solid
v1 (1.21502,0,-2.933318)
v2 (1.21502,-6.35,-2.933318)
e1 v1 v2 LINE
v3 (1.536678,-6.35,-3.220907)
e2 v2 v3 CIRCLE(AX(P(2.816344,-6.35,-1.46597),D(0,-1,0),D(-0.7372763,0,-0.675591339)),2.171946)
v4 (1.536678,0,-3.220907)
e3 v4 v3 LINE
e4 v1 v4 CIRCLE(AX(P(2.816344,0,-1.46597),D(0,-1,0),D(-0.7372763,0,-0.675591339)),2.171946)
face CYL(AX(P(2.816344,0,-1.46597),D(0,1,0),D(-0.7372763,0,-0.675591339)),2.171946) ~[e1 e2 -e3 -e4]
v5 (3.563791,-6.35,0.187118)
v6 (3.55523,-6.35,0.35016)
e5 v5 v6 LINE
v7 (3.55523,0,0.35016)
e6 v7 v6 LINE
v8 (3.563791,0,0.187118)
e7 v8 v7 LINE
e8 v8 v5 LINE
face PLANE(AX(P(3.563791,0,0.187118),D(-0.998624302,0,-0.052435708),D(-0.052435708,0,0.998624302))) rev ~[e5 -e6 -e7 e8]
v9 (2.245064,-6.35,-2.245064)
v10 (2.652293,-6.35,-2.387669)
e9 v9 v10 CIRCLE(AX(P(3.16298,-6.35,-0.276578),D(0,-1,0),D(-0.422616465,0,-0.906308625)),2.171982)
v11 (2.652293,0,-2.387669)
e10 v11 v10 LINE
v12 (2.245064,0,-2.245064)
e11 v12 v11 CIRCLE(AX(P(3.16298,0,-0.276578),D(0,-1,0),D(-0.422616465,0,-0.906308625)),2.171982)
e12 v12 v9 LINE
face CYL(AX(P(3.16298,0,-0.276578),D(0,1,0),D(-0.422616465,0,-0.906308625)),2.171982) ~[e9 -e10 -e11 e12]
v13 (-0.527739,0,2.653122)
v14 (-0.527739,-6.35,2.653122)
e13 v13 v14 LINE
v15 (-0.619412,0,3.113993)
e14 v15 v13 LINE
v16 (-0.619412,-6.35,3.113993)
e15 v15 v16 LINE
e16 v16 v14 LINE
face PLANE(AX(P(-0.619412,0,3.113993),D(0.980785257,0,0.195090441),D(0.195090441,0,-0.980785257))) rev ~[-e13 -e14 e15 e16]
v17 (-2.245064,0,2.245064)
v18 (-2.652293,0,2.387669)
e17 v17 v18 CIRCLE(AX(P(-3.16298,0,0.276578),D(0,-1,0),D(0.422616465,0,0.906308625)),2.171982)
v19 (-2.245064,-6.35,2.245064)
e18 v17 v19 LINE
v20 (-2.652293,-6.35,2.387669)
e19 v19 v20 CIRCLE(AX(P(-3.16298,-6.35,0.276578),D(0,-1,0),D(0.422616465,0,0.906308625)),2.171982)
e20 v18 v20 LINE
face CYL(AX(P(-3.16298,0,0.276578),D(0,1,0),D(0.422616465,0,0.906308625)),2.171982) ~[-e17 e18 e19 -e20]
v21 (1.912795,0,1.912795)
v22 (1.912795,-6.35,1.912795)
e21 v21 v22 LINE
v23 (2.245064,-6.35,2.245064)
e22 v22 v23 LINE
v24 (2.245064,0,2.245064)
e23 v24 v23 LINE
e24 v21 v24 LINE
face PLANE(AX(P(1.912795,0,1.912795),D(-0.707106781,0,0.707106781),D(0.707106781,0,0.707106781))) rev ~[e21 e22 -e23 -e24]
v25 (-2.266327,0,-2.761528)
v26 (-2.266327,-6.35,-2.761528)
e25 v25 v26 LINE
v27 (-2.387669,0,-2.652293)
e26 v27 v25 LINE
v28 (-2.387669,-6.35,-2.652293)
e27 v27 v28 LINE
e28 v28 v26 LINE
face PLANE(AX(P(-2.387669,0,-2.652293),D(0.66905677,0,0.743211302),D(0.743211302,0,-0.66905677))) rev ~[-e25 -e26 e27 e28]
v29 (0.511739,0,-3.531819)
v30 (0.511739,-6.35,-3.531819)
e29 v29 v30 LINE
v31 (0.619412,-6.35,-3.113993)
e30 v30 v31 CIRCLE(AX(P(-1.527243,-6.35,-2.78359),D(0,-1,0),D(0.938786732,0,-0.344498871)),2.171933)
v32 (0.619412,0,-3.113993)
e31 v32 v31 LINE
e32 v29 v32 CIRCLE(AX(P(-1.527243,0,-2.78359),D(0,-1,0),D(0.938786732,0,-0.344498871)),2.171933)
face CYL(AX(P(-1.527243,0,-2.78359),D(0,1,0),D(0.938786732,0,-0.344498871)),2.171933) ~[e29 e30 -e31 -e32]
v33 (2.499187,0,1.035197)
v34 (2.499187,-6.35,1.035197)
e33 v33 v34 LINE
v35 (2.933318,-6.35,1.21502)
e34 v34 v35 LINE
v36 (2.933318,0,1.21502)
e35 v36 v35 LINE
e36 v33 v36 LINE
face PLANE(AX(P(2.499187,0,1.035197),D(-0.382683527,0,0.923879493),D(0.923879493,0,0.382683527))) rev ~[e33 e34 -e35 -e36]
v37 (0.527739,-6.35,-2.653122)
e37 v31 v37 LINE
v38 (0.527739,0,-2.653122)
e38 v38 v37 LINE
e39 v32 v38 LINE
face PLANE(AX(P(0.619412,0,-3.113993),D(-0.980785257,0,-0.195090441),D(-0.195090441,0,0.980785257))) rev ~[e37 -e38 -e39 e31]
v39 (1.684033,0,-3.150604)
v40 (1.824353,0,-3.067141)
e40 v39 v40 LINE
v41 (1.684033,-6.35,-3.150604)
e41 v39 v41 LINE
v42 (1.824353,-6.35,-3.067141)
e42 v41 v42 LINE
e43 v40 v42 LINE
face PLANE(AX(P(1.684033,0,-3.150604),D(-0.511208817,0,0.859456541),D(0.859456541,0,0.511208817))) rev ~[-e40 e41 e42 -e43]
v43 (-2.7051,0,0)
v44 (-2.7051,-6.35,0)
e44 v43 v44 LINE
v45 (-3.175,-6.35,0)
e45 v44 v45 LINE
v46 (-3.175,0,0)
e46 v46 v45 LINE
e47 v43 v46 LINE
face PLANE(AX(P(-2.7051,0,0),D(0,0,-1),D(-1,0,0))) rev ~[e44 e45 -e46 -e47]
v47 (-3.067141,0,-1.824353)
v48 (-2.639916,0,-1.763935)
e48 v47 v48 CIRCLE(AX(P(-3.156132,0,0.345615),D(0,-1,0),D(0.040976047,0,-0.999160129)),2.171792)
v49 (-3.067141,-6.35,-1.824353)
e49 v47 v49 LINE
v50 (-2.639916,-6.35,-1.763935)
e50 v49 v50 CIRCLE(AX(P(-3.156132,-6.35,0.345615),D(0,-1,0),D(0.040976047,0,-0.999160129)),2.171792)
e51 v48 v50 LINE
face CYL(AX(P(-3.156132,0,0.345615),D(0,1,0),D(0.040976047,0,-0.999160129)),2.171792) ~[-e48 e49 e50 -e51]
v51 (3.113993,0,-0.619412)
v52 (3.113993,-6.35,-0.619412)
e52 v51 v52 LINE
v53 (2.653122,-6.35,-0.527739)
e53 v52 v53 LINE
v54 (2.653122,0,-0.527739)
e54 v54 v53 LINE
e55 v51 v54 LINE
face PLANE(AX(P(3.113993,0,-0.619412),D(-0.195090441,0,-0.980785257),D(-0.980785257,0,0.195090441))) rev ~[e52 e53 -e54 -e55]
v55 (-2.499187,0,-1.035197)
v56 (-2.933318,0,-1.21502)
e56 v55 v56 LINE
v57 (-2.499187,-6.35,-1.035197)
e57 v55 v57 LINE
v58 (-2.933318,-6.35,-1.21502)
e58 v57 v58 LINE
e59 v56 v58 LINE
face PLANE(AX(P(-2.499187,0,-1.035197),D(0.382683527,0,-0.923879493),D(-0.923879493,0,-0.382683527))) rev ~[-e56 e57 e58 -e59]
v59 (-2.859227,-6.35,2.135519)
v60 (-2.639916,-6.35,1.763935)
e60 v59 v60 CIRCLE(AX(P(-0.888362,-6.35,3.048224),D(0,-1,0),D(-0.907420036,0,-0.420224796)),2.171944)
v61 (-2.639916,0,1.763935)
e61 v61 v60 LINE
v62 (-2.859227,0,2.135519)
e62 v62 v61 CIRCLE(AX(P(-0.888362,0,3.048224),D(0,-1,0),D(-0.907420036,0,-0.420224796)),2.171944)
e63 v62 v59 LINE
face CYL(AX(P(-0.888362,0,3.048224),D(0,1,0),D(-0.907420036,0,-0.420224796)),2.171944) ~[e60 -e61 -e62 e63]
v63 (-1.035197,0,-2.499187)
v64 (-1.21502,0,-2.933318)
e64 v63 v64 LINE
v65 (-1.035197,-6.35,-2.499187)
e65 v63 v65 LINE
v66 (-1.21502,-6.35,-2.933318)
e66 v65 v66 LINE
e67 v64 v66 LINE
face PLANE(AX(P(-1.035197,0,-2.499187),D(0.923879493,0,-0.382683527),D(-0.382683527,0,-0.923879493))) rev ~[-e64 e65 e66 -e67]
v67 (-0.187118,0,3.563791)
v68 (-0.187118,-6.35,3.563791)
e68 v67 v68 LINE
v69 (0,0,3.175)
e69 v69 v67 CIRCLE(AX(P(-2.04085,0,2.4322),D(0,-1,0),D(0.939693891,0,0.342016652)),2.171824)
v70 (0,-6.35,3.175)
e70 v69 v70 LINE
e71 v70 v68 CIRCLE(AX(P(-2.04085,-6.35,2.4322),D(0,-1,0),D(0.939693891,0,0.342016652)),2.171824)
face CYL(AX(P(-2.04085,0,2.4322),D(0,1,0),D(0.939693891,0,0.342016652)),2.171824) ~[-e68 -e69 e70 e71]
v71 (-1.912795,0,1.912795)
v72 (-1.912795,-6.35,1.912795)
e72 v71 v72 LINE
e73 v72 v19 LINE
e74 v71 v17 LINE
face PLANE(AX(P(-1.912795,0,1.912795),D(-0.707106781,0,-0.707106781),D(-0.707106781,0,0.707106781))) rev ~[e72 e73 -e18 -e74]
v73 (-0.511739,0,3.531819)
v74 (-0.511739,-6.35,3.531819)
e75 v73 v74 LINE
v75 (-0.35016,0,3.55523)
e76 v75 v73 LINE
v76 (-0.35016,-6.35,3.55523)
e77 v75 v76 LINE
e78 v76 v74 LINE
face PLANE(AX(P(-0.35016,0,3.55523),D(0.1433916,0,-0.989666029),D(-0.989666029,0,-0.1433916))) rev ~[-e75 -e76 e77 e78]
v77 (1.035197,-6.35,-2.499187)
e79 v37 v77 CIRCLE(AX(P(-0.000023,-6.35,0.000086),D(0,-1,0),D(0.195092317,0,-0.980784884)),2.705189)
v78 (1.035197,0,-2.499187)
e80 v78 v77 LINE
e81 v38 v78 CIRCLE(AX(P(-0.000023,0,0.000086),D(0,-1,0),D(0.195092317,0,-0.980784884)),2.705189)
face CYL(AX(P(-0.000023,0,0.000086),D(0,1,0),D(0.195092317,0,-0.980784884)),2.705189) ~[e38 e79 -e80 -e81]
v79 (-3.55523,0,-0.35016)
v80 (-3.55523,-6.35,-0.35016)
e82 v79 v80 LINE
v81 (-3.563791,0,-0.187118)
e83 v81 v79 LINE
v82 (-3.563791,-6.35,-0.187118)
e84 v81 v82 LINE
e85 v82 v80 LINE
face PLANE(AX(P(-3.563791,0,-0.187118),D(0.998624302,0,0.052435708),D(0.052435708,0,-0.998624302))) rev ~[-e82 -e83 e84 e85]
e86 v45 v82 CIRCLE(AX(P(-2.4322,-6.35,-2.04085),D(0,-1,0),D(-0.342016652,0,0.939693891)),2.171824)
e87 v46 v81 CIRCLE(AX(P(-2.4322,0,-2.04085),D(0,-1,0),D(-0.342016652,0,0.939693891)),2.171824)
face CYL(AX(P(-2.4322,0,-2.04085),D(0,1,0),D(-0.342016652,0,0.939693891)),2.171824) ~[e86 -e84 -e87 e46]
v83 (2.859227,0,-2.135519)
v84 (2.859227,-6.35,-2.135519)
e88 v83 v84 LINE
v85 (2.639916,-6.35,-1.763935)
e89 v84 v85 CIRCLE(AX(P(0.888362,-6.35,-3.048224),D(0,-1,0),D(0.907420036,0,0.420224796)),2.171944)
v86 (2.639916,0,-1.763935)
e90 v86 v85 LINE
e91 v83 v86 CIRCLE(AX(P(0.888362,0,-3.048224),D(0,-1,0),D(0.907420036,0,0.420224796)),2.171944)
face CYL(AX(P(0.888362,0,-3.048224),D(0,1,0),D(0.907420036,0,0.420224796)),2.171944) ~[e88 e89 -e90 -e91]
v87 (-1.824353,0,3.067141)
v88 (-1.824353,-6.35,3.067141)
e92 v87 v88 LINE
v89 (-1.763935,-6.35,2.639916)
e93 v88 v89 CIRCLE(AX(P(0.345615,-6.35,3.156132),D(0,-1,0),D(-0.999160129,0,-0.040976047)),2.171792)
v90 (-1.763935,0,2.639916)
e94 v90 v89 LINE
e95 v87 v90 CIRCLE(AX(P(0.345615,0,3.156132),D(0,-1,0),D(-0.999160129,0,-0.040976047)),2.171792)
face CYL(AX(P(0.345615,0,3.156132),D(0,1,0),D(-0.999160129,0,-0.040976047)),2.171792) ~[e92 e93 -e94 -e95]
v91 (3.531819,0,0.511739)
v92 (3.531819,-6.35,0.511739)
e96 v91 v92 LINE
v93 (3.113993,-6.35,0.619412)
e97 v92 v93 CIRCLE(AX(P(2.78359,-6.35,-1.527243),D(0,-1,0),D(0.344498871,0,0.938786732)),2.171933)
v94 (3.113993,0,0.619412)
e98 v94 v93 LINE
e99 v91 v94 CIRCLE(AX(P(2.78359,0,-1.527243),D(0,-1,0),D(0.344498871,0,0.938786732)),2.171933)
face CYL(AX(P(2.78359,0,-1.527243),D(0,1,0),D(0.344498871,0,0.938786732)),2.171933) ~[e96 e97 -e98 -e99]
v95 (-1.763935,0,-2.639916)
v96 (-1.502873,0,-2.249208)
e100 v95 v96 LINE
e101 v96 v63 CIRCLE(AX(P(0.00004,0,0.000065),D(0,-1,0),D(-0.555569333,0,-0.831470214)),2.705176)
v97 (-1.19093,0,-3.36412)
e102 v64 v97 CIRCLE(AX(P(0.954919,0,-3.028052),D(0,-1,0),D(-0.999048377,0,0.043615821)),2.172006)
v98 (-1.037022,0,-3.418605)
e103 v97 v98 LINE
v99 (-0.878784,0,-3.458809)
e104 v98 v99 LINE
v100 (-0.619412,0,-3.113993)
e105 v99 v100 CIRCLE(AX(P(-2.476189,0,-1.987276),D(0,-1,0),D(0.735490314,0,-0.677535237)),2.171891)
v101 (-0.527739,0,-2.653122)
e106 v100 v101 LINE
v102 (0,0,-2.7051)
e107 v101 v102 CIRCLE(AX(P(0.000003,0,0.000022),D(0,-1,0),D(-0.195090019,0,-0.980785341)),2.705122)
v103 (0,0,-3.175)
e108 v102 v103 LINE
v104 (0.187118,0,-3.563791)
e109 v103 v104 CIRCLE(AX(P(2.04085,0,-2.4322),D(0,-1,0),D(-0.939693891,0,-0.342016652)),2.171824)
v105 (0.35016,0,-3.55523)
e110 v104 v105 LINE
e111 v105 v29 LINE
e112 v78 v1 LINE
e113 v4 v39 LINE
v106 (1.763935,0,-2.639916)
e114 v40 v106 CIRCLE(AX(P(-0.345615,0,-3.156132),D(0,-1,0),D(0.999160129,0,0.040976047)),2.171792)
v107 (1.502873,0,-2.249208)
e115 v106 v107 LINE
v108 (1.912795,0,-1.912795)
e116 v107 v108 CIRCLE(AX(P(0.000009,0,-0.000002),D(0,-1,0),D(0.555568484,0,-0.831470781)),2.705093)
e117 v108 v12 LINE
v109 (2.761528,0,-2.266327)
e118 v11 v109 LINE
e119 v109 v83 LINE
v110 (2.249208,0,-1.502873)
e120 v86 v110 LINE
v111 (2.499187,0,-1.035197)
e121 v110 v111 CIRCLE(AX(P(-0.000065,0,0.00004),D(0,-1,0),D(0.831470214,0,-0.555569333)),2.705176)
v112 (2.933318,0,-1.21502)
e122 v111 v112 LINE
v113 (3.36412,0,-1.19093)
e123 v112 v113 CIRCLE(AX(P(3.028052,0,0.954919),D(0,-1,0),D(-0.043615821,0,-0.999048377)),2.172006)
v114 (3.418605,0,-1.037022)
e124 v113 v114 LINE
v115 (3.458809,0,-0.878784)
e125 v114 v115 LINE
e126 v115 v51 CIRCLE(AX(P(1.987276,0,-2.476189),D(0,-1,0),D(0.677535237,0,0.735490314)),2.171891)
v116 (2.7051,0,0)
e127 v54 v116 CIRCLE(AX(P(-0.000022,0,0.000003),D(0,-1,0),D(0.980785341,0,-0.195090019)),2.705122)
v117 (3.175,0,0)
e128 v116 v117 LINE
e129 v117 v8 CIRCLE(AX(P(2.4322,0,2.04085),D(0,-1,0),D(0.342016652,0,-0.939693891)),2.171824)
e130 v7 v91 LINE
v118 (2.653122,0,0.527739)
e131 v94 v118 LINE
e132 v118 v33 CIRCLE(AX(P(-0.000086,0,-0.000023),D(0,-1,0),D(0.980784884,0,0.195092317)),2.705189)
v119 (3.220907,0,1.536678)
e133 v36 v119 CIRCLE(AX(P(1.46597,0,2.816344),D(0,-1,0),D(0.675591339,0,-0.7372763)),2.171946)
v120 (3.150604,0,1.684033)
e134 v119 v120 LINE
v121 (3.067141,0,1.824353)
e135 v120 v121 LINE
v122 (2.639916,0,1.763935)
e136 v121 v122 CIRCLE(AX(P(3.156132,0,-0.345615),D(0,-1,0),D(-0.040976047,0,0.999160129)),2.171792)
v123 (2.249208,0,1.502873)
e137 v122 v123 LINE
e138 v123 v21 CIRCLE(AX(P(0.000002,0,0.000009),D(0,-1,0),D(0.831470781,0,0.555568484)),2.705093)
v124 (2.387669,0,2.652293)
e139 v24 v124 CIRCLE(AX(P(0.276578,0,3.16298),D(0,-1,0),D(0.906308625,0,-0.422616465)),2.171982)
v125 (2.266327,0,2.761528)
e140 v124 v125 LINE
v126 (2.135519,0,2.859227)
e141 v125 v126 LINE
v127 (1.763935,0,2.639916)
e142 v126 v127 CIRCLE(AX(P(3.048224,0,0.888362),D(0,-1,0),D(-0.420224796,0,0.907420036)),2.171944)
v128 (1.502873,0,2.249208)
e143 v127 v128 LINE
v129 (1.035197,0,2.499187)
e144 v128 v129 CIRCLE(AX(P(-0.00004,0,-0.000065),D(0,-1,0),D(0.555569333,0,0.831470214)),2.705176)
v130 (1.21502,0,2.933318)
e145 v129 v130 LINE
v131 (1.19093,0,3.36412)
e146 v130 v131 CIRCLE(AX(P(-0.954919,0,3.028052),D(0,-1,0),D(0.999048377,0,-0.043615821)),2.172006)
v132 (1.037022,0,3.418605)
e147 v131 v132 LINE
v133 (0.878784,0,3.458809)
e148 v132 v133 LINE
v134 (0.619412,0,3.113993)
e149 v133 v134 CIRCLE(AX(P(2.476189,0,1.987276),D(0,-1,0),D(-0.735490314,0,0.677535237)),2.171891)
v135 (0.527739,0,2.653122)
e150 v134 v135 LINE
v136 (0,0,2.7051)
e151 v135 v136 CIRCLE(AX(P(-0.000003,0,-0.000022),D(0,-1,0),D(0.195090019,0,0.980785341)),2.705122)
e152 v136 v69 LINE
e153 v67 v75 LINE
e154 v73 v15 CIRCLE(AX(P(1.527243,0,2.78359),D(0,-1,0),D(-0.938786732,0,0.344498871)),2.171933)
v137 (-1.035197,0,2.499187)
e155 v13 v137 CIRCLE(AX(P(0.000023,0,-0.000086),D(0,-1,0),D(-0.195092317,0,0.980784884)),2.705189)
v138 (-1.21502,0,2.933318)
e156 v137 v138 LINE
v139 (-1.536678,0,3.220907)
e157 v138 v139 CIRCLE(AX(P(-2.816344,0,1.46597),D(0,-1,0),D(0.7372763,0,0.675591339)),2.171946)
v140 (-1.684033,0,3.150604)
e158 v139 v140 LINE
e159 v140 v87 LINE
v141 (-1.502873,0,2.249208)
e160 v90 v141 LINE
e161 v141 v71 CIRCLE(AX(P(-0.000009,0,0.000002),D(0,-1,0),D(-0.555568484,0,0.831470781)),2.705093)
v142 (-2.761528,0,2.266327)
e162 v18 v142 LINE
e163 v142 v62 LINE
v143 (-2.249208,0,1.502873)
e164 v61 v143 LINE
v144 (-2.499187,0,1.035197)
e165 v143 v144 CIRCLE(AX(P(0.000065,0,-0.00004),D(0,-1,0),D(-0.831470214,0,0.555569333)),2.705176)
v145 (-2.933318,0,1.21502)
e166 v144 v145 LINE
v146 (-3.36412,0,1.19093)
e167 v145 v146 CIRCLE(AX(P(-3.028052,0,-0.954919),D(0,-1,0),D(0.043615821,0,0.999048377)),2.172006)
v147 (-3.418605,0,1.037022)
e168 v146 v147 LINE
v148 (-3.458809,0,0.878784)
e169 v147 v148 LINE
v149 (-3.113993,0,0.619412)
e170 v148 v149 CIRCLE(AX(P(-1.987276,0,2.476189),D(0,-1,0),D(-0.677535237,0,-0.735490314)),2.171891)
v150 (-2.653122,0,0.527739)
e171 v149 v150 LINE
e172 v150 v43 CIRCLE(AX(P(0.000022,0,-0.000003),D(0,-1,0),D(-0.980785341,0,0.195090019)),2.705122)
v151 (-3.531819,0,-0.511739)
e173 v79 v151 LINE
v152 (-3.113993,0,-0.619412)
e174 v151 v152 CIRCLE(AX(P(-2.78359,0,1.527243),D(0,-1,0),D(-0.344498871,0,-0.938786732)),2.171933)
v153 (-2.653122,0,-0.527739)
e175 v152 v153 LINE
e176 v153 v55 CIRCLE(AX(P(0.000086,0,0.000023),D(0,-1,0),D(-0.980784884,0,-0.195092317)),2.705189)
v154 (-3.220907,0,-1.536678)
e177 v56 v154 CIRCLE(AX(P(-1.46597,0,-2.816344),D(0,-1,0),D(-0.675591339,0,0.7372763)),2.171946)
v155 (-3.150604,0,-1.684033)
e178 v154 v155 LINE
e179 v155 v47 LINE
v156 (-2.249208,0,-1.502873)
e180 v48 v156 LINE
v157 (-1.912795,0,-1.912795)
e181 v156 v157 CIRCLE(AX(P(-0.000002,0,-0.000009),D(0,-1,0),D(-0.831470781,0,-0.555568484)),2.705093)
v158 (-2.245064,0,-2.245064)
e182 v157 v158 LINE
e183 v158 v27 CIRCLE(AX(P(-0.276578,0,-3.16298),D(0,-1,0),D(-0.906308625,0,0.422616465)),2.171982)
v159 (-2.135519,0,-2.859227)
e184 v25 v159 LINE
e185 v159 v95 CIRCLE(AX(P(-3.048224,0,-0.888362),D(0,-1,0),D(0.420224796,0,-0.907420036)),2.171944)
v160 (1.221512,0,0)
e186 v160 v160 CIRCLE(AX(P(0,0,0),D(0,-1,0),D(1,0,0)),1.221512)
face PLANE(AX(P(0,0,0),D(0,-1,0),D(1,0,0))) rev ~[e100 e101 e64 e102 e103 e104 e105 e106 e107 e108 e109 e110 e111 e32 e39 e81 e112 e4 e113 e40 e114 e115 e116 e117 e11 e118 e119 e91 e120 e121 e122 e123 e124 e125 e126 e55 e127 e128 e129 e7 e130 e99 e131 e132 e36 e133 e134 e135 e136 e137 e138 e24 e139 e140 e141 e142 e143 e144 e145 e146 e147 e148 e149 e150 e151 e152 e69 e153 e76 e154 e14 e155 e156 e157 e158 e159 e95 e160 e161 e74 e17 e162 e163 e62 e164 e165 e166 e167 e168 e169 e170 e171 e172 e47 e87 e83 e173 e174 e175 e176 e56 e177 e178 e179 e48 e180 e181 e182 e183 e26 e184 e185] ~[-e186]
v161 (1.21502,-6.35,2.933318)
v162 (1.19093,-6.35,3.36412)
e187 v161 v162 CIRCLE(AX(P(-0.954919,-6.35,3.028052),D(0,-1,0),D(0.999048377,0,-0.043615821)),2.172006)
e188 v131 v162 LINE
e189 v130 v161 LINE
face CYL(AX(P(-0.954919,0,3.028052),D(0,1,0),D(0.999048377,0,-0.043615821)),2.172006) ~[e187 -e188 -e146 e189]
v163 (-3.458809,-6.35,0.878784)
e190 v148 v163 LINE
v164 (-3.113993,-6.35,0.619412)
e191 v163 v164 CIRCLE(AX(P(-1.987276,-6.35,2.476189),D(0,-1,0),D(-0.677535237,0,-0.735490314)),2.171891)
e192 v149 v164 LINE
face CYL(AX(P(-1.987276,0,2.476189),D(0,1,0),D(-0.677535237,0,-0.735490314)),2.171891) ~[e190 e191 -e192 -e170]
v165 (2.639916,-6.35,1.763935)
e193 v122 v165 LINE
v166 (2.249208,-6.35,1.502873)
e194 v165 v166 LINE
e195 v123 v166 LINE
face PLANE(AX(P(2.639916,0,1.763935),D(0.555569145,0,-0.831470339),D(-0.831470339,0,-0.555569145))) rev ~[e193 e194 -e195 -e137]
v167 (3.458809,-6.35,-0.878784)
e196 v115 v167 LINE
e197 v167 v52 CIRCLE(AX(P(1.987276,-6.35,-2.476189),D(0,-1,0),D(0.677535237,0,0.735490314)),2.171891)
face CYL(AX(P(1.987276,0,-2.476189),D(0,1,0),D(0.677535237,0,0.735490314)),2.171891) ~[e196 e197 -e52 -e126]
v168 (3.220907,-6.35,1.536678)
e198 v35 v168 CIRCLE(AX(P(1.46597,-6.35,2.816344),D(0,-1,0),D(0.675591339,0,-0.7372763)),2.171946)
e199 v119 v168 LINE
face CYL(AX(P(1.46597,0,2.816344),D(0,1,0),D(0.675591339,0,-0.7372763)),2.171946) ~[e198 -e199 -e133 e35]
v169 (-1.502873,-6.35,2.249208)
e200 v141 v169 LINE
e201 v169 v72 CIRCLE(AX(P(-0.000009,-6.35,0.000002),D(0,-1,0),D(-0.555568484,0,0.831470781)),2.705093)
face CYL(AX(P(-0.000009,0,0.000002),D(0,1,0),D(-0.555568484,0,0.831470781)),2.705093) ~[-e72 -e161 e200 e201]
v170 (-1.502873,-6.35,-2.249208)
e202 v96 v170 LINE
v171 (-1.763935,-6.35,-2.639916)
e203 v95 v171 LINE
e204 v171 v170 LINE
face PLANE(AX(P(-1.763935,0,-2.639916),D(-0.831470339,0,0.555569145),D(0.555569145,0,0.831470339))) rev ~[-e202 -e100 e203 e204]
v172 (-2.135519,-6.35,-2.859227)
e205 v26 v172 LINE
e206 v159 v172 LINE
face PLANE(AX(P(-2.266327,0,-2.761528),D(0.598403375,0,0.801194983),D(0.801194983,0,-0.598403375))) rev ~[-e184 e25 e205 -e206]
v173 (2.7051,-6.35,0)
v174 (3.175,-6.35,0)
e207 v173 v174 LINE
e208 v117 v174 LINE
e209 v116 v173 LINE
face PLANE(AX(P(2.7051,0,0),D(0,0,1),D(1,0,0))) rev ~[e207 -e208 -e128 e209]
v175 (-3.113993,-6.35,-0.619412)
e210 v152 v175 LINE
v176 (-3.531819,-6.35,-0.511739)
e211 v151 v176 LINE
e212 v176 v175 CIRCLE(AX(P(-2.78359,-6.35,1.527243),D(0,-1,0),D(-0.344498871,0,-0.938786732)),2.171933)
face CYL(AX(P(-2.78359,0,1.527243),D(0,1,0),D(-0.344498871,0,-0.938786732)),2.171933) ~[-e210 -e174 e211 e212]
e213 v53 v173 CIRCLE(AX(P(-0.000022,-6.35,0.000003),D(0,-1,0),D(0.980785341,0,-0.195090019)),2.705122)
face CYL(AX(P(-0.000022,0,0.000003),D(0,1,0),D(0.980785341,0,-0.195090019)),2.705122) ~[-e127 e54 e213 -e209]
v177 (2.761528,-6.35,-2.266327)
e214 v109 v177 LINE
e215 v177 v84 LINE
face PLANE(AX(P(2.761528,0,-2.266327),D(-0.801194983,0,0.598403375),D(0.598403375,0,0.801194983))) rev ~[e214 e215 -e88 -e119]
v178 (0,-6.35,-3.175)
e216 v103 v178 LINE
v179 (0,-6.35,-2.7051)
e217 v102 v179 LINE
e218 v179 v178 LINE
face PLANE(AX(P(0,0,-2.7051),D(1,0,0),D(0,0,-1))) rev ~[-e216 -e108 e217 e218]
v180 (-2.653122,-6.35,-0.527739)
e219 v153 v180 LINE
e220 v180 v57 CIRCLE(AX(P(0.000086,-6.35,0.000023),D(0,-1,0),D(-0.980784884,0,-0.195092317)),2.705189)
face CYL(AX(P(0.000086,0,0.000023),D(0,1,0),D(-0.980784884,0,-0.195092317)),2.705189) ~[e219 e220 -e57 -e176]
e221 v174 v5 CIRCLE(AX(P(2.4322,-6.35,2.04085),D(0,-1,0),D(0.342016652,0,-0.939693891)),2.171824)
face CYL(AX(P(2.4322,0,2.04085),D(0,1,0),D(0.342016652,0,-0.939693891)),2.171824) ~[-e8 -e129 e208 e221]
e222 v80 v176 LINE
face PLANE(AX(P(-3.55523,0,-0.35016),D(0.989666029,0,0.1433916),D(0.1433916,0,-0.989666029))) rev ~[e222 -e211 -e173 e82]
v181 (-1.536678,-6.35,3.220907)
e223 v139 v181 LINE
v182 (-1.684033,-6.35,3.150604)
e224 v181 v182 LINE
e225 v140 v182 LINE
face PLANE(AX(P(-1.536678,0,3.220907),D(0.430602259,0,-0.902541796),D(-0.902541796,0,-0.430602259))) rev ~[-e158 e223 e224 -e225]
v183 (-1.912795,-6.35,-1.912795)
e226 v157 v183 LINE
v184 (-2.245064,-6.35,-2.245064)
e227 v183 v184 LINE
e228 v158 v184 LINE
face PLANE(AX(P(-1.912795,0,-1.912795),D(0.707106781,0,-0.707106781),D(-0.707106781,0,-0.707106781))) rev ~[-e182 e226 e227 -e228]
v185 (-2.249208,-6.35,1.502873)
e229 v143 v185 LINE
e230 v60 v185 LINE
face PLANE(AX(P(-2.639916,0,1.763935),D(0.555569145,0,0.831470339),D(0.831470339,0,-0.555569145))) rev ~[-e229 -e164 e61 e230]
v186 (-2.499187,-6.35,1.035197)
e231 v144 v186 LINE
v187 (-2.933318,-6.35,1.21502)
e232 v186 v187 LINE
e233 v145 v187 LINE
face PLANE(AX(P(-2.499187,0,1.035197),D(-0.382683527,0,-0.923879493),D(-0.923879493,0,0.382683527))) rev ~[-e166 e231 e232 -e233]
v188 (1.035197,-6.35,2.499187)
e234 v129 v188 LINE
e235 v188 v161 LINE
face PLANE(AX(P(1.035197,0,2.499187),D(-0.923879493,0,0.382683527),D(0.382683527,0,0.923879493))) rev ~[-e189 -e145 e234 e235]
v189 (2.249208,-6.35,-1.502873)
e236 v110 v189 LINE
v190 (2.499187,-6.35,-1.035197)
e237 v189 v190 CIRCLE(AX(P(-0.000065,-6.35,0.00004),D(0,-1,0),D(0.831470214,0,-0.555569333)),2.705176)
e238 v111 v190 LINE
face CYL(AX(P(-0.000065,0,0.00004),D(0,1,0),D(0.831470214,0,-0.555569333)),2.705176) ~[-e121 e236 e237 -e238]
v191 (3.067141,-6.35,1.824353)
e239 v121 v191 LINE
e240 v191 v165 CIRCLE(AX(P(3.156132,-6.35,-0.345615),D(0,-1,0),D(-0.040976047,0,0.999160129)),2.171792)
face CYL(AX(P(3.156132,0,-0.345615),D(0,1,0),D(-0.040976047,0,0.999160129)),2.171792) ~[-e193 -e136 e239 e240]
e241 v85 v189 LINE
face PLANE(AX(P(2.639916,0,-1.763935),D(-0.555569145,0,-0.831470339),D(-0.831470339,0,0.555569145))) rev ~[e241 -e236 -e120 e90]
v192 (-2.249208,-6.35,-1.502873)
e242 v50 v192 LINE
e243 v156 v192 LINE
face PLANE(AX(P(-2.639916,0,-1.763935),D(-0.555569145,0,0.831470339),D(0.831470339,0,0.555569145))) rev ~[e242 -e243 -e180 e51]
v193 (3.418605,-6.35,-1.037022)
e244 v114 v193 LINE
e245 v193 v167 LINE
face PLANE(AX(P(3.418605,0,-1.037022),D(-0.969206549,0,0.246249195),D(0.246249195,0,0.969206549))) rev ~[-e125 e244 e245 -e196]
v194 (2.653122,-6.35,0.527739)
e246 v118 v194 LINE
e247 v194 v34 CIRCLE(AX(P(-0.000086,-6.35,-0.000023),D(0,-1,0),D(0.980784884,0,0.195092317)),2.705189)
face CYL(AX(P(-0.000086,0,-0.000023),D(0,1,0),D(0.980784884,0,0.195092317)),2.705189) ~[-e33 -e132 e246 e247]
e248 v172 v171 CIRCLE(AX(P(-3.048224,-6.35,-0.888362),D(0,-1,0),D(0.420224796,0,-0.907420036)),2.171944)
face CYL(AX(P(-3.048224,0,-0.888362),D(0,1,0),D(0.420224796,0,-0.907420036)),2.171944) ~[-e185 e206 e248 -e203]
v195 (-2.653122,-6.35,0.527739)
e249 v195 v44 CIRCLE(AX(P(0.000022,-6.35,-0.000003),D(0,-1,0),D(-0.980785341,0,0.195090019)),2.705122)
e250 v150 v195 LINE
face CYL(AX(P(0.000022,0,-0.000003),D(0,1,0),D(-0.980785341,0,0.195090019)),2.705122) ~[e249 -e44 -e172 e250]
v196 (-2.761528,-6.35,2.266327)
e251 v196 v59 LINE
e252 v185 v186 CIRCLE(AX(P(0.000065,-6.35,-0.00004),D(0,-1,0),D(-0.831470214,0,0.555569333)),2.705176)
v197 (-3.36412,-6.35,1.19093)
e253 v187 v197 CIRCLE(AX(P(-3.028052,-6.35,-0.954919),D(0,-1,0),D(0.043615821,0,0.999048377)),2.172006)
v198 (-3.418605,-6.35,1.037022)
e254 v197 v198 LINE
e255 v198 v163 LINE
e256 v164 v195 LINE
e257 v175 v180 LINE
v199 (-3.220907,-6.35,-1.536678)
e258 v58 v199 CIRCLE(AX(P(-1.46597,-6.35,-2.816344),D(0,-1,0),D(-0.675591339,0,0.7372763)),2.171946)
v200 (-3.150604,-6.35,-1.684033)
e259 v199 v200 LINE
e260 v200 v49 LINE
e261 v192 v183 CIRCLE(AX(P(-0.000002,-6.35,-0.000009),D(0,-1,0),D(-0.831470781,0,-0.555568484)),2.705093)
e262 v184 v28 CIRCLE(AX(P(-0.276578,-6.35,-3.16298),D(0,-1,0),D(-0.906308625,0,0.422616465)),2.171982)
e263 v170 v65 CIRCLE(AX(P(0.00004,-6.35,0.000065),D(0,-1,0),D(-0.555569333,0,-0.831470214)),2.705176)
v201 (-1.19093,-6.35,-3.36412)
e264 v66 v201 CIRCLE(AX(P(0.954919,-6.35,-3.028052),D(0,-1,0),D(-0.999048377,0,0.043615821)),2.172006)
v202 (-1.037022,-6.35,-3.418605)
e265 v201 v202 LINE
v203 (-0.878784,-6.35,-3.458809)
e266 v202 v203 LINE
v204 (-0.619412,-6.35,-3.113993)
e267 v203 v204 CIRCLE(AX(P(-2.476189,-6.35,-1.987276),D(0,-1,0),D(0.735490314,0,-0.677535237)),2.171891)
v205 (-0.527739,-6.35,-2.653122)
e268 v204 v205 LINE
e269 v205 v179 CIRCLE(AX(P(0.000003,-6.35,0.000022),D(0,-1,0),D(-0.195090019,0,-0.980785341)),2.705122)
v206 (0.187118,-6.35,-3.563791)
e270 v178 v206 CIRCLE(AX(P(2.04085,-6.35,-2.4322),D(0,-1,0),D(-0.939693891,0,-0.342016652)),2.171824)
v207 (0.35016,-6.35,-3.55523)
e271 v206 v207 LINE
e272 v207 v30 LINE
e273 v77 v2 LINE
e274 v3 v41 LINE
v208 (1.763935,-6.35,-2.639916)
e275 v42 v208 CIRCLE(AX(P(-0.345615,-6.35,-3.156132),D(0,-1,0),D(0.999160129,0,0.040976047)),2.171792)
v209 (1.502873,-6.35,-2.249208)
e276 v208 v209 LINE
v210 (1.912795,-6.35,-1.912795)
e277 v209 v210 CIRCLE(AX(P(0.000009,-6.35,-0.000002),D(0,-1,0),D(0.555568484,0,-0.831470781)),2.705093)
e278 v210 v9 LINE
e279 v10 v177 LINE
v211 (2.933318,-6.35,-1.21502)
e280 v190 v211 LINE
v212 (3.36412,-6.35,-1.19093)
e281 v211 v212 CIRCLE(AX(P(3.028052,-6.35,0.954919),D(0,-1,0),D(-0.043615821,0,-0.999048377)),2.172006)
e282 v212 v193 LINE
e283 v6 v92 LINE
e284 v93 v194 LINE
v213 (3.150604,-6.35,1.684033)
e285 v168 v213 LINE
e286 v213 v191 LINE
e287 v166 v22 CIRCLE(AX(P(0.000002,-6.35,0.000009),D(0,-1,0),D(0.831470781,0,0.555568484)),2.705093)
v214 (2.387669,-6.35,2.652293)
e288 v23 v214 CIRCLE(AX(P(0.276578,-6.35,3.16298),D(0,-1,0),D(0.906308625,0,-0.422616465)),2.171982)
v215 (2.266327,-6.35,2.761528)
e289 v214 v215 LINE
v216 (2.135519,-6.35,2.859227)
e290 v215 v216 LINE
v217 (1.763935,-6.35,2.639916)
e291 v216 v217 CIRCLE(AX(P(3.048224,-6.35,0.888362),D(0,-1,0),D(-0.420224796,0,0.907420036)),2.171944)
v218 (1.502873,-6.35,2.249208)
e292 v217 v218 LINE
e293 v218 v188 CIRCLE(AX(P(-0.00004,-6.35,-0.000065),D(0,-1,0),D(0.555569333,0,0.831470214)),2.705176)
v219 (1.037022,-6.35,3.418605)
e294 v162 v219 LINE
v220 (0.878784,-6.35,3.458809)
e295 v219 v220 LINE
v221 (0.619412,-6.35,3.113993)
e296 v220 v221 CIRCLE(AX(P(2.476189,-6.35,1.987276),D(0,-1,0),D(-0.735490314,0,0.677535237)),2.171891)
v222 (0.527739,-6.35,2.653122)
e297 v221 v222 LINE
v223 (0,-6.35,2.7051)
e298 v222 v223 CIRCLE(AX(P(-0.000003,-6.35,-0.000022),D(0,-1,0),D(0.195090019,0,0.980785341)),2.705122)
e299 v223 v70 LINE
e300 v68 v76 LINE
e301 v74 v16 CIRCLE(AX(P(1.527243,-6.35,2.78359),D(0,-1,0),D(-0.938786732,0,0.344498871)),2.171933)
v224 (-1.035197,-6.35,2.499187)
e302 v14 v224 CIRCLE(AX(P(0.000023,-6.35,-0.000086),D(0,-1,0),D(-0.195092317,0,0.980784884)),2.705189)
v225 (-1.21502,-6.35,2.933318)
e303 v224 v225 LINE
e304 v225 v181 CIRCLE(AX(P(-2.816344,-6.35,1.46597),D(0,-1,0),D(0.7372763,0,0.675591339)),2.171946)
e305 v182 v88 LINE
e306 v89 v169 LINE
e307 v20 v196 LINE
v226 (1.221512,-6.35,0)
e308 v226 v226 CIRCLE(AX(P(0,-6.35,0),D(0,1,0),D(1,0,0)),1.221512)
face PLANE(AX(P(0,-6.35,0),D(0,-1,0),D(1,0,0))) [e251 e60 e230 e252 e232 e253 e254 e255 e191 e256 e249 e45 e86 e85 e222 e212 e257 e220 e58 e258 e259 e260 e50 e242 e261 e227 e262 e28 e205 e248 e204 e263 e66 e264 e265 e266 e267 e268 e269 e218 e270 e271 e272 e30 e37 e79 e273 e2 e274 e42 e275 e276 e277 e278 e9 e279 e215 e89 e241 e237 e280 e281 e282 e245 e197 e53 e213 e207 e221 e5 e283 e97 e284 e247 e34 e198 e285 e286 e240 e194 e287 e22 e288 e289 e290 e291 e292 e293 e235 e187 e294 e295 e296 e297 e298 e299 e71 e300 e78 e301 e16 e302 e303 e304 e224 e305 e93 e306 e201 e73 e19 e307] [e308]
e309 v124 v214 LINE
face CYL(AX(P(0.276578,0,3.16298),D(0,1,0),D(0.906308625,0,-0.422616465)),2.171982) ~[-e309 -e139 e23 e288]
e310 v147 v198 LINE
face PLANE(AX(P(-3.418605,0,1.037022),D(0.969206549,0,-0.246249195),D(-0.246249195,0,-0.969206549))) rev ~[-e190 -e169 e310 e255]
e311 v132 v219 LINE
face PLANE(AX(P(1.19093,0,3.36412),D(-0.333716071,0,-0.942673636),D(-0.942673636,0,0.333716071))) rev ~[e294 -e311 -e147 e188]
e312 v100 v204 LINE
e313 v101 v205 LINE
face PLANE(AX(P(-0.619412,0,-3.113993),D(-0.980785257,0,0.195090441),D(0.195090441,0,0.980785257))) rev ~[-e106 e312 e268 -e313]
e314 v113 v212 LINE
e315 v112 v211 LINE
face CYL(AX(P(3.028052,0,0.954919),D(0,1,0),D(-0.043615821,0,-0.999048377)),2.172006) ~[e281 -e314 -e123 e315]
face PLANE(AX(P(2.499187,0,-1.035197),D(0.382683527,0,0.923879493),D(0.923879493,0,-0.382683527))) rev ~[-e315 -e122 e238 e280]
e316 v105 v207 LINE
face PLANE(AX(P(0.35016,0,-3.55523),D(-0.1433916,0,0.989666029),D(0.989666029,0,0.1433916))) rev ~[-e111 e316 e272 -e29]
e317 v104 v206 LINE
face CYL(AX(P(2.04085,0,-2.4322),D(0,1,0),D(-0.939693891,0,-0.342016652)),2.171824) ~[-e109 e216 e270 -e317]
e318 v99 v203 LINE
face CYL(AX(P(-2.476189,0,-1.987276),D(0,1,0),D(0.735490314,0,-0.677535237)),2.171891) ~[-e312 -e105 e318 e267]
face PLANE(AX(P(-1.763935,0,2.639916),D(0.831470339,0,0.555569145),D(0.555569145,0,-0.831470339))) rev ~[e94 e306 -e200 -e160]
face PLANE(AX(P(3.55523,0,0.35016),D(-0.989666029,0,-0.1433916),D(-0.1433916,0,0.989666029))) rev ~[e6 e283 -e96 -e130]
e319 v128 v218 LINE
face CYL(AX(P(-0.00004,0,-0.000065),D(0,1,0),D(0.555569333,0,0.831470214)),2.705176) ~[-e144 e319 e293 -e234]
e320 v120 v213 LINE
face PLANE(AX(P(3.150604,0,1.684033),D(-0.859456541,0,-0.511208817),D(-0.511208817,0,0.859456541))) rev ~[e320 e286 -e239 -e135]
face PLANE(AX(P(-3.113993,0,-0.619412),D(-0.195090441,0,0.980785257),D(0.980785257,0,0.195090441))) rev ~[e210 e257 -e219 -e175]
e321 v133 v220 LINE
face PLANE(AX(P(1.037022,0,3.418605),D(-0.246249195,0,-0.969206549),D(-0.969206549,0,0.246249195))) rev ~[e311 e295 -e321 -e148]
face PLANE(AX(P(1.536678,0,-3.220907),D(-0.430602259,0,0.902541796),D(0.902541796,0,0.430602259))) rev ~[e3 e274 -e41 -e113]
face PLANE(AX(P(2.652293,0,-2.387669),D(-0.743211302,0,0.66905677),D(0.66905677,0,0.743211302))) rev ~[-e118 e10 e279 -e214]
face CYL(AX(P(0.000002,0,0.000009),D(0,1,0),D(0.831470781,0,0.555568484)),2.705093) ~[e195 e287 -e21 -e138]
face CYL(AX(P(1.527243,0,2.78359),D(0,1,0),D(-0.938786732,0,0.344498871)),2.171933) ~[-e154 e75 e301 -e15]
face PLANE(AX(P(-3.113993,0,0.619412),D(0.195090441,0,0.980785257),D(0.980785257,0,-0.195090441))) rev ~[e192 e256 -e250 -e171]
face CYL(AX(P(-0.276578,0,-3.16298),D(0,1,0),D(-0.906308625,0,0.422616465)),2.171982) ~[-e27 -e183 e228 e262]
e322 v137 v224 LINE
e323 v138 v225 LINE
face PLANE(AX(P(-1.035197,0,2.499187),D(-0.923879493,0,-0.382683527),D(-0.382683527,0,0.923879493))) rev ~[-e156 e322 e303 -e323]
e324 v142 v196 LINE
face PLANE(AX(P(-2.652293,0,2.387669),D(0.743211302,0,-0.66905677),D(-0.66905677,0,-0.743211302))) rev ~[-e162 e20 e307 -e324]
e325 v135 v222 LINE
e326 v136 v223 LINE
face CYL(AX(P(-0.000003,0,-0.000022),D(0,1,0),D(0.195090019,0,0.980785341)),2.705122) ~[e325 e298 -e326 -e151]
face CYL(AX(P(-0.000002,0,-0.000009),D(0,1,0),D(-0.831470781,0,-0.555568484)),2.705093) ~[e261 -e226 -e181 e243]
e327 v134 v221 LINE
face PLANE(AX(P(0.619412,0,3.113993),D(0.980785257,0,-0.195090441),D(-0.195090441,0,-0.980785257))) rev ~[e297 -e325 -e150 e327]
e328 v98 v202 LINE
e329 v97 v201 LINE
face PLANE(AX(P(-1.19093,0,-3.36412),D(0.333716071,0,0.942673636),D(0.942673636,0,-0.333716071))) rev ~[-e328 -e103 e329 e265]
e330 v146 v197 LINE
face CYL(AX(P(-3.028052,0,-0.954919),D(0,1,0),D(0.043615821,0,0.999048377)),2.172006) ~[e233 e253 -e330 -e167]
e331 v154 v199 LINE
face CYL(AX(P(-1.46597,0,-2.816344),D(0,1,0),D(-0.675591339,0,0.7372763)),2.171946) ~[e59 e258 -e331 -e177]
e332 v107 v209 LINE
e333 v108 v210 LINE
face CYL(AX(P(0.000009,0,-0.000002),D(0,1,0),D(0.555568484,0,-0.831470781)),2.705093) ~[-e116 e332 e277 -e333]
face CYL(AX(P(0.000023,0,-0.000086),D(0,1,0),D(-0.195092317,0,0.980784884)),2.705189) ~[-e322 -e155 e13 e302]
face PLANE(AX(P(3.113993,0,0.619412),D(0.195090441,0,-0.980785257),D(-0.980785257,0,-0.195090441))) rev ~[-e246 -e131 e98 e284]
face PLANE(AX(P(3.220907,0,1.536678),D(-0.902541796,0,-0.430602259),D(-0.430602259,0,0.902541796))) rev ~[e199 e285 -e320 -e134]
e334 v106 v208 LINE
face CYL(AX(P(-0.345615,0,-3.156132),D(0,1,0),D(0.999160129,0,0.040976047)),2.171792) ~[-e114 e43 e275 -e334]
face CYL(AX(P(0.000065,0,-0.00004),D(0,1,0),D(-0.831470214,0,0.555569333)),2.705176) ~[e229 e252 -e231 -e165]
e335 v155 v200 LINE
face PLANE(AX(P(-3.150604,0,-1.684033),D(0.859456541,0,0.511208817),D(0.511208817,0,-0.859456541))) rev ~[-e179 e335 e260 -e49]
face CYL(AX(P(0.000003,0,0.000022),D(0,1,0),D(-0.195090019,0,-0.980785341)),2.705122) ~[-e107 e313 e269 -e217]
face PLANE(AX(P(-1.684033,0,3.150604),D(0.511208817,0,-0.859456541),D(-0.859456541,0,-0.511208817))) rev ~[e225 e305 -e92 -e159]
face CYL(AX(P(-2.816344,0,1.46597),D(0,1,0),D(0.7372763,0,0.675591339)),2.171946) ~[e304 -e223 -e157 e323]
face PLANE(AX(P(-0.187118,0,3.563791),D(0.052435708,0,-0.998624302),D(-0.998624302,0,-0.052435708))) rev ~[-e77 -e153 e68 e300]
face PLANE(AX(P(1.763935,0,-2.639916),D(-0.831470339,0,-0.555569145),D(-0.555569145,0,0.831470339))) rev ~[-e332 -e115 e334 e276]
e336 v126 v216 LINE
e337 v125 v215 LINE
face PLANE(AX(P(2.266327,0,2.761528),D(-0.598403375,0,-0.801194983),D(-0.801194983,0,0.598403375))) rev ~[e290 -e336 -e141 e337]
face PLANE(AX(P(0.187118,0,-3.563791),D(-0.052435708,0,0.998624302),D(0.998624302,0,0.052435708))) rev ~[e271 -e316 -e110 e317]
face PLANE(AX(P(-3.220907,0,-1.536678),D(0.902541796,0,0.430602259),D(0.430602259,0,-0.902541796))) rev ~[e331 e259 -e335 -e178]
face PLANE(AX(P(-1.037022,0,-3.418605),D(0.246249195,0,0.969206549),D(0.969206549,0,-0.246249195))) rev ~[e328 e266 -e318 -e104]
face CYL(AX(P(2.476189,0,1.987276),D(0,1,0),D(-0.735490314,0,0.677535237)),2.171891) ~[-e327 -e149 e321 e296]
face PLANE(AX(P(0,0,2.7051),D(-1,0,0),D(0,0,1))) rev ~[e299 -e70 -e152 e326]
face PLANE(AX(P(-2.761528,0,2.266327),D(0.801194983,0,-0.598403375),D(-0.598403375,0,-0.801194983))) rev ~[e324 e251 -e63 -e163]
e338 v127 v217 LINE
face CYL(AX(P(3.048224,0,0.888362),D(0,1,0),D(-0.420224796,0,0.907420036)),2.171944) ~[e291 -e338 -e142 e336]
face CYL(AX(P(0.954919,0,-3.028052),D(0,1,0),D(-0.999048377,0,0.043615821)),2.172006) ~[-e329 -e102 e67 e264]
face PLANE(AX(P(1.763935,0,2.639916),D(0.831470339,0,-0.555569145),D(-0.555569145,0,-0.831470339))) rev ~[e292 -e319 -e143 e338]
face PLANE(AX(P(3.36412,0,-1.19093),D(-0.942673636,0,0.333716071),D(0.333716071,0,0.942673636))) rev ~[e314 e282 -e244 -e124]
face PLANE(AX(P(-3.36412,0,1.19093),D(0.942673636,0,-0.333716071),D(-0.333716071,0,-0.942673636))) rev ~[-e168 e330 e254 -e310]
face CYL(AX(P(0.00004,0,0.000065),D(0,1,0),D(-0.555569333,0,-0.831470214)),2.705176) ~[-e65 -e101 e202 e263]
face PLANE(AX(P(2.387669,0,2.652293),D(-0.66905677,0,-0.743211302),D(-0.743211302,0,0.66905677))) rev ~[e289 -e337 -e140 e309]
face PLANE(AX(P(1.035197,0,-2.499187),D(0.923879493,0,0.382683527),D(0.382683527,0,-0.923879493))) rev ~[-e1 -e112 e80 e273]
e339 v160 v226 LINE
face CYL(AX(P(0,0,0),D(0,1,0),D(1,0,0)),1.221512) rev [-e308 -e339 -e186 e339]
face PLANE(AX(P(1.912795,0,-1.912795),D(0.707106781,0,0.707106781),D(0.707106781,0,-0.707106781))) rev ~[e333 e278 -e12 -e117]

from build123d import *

# Parameters (mm, degrees)
F1_DEPTH = 6.35
F2_R     = 1.221512
F3_DEPTH = 30.89672


with BuildPart() as f1:
    # F0 (on Front) → F1 (new body)
    with BuildSketch(Plane.XZ):
        with BuildLine():
            Line((-1.763935, 2.639916), (-1.502873, 2.249208))
            ThreePointArc((-1.502873, 2.249208), (-1.716097, 2.091071), (-1.912795, 1.912795))
            Line((-1.912795, 1.912795), (-2.245064, 2.245064))
            ThreePointArc((-2.245064, 2.245064), (-2.445129, 2.326504), (-2.652293, 2.387669))
            Line((-2.652293, 2.387669), (-2.761528, 2.266327))
            Line((-2.761528, 2.266327), (-2.859227, 2.135519))
            ThreePointArc((-2.859227, 2.135519), (-2.758822, 1.944268), (-2.639916, 1.763935))
            Line((-2.639916, 1.763935), (-2.249208, 1.502873))
            ThreePointArc((-2.249208, 1.502873), (-2.385685, 1.275175), (-2.499187, 1.035197))
            Line((-2.499187, 1.035197), (-2.933318, 1.21502))
            ThreePointArc((-2.933318, 1.21502), (-3.149319, 1.213699), (-3.36412, 1.19093))
            Line((-3.36412, 1.19093), (-3.418605, 1.037022))
            Line((-3.418605, 1.037022), (-3.458809, 0.878784))
            ThreePointArc((-3.458809, 0.878784), (-3.292858, 0.740514), (-3.113993, 0.619412))
            Line((-3.113993, 0.619412), (-2.653122, 0.527739))
            ThreePointArc((-2.653122, 0.527739), (-2.692074, 0.265146), (-2.7051, 0))
            Line((-2.7051, 0), (-3.175, 0))
            ThreePointArc((-3.175, 0), (-3.374054, -0.08388), (-3.563791, -0.187118))
            Line((-3.563791, -0.187118), (-3.55523, -0.35016))
            Line((-3.55523, -0.35016), (-3.531819, -0.511739))
            ThreePointArc((-3.531819, -0.511739), (-3.325586, -0.575977), (-3.113993, -0.619412))
            Line((-3.113993, -0.619412), (-2.653122, -0.527739))
            ThreePointArc((-2.653122, -0.527739), (-2.588619, -0.785249), (-2.499187, -1.035197))
            Line((-2.499187, -1.035197), (-2.933318, -1.21502))
            ThreePointArc((-2.933318, -1.21502), (-3.08512, -1.36869), (-3.220907, -1.536678))
            Line((-3.220907, -1.536678), (-3.150604, -1.684033))
            Line((-3.150604, -1.684033), (-3.067141, -1.824353))
            ThreePointArc((-3.067141, -1.824353), (-2.852024, -1.80478), (-2.639916, -1.763935))
            Line((-2.639916, -1.763935), (-2.249208, -1.502873))
            ThreePointArc((-2.249208, -1.502873), (-2.091071, -1.716097), (-1.912795, -1.912795))
            Line((-1.912795, -1.912795), (-2.245064, -2.245064))
            ThreePointArc((-2.245064, -2.245064), (-2.326504, -2.445129), (-2.387669, -2.652293))
            Line((-2.387669, -2.652293), (-2.266327, -2.761528))
            Line((-2.266327, -2.761528), (-2.135519, -2.859227))
            ThreePointArc((-2.135519, -2.859227), (-1.944268, -2.758822), (-1.763935, -2.639916))
            Line((-1.763935, -2.639916), (-1.502873, -2.249208))
            ThreePointArc((-1.502873, -2.249208), (-1.275175, -2.385685), (-1.035197, -2.499187))
            Line((-1.035197, -2.499187), (-1.21502, -2.933318))
            ThreePointArc((-1.21502, -2.933318), (-1.213699, -3.149319), (-1.19093, -3.36412))
            Line((-1.19093, -3.36412), (-1.037022, -3.418605))
            Line((-1.037022, -3.418605), (-0.878784, -3.458809))
            ThreePointArc((-0.878784, -3.458809), (-0.740514, -3.292858), (-0.619412, -3.113993))
            Line((-0.619412, -3.113993), (-0.527739, -2.653122))
            ThreePointArc((-0.527739, -2.653122), (-0.265146, -2.692074), (0, -2.7051))
            Line((0, -2.7051), (0, -3.175))
            ThreePointArc((0, -3.175), (0.08388, -3.374054), (0.187118, -3.563791))
            Line((0.187118, -3.563791), (0.35016, -3.55523))
            Line((0.35016, -3.55523), (0.511739, -3.531819))
            ThreePointArc((0.511739, -3.531819), (0.575977, -3.325586), (0.619412, -3.113993))
            Line((0.619412, -3.113993), (0.527739, -2.653122))
            ThreePointArc((0.527739, -2.653122), (0.785249, -2.588619), (1.035197, -2.499187))
            Line((1.035197, -2.499187), (1.21502, -2.933318))
            ThreePointArc((1.21502, -2.933318), (1.36869, -3.08512), (1.536678, -3.220907))
            Line((1.536678, -3.220907), (1.684033, -3.150604))
            Line((1.684033, -3.150604), (1.824353, -3.067141))
            ThreePointArc((1.824353, -3.067141), (1.80478, -2.852024), (1.763935, -2.639916))
            Line((1.763935, -2.639916), (1.502873, -2.249208))
            ThreePointArc((1.502873, -2.249208), (1.716097, -2.091071), (1.912795, -1.912795))
            Line((1.912795, -1.912795), (2.245064, -2.245064))
            ThreePointArc((2.245064, -2.245064), (2.445129, -2.326504), (2.652293, -2.387669))
            Line((2.652293, -2.387669), (2.761528, -2.266327))
            Line((2.761528, -2.266327), (2.859227, -2.135519))
            ThreePointArc((2.859227, -2.135519), (2.758822, -1.944268), (2.639916, -1.763935))
            Line((2.639916, -1.763935), (2.249208, -1.502873))
            ThreePointArc((2.249208, -1.502873), (2.385685, -1.275175), (2.499187, -1.035197))
            Line((2.499187, -1.035197), (2.933318, -1.21502))
            ThreePointArc((2.933318, -1.21502), (3.149319, -1.213699), (3.36412, -1.19093))
            Line((3.36412, -1.19093), (3.418605, -1.037022))
            Line((3.418605, -1.037022), (3.458809, -0.878784))
            ThreePointArc((3.458809, -0.878784), (3.292858, -0.740514), (3.113993, -0.619412))
            Line((3.113993, -0.619412), (2.653122, -0.527739))
            ThreePointArc((2.653122, -0.527739), (2.692074, -0.265146), (2.7051, 0))
            Line((2.7051, 0), (3.175, 0))
            ThreePointArc((3.175, 0), (3.374054, 0.08388), (3.563791, 0.187118))
            Line((3.563791, 0.187118), (3.55523, 0.35016))
            Line((3.55523, 0.35016), (3.531819, 0.511739))
            ThreePointArc((3.531819, 0.511739), (3.325586, 0.575977), (3.113993, 0.619412))
            Line((3.113993, 0.619412), (2.653122, 0.527739))
            ThreePointArc((2.653122, 0.527739), (2.588619, 0.785249), (2.499187, 1.035197))
            Line((2.499187, 1.035197), (2.933318, 1.21502))
            ThreePointArc((2.933318, 1.21502), (3.08512, 1.36869), (3.220907, 1.536678))
            Line((3.220907, 1.536678), (3.150604, 1.684033))
            Line((3.150604, 1.684033), (3.067141, 1.824353))
            ThreePointArc((3.067141, 1.824353), (2.852024, 1.80478), (2.639916, 1.763935))
            Line((2.639916, 1.763935), (2.249208, 1.502873))
            ThreePointArc((2.249208, 1.502873), (2.091071, 1.716097), (1.912795, 1.912795))
            Line((1.912795, 1.912795), (2.245064, 2.245064))
            ThreePointArc((2.245064, 2.245064), (2.326504, 2.445129), (2.387669, 2.652293))
            Line((2.387669, 2.652293), (2.266327, 2.761528))
            Line((2.266327, 2.761528), (2.135519, 2.859227))
            ThreePointArc((2.135519, 2.859227), (1.944268, 2.758822), (1.763935, 2.639916))
            Line((1.763935, 2.639916), (1.502873, 2.249208))
            ThreePointArc((1.502873, 2.249208), (1.275175, 2.385685), (1.035197, 2.499187))
            Line((1.035197, 2.499187), (1.21502, 2.933318))
            ThreePointArc((1.21502, 2.933318), (1.213699, 3.149319), (1.19093, 3.36412))
            Line((1.19093, 3.36412), (1.037022, 3.418605))
            Line((1.037022, 3.418605), (0.878784, 3.458809))
            ThreePointArc((0.878784, 3.458809), (0.740514, 3.292858), (0.619412, 3.113993))
            Line((0.619412, 3.113993), (0.527739, 2.653122))
            ThreePointArc((0.527739, 2.653122), (0.265146, 2.692074), (0, 2.7051))
            Line((0, 2.7051), (0, 3.175))
            ThreePointArc((0, 3.175), (-0.08388, 3.374054), (-0.187118, 3.563791))
            Line((-0.187118, 3.563791), (-0.35016, 3.55523))
            Line((-0.35016, 3.55523), (-0.511739, 3.531819))
            ThreePointArc((-0.511739, 3.531819), (-0.575977, 3.325586), (-0.619412, 3.113993))
            Line((-0.619412, 3.113993), (-0.527739, 2.653122))
            ThreePointArc((-0.527739, 2.653122), (-0.785249, 2.588619), (-1.035197, 2.499187))
            Line((-1.035197, 2.499187), (-1.21502, 2.933318))
            ThreePointArc((-1.21502, 2.933318), (-1.36869, 3.08512), (-1.536678, 3.220907))
            Line((-1.536678, 3.220907), (-1.684033, 3.150604))
            Line((-1.684033, 3.150604), (-1.824353, 3.067141))
            ThreePointArc((-1.824353, 3.067141), (-1.80478, 2.852024), (-1.763935, 2.639916))
        make_face()
    extrude(amount=F1_DEPTH)

    # F2 (on Front) → F3 (cut)
    with BuildSketch(Plane.XZ):
        Circle(F2_R)
    extrude(amount=F3_DEPTH, mode=Mode.SUBTRACT)


solid = f1.part
